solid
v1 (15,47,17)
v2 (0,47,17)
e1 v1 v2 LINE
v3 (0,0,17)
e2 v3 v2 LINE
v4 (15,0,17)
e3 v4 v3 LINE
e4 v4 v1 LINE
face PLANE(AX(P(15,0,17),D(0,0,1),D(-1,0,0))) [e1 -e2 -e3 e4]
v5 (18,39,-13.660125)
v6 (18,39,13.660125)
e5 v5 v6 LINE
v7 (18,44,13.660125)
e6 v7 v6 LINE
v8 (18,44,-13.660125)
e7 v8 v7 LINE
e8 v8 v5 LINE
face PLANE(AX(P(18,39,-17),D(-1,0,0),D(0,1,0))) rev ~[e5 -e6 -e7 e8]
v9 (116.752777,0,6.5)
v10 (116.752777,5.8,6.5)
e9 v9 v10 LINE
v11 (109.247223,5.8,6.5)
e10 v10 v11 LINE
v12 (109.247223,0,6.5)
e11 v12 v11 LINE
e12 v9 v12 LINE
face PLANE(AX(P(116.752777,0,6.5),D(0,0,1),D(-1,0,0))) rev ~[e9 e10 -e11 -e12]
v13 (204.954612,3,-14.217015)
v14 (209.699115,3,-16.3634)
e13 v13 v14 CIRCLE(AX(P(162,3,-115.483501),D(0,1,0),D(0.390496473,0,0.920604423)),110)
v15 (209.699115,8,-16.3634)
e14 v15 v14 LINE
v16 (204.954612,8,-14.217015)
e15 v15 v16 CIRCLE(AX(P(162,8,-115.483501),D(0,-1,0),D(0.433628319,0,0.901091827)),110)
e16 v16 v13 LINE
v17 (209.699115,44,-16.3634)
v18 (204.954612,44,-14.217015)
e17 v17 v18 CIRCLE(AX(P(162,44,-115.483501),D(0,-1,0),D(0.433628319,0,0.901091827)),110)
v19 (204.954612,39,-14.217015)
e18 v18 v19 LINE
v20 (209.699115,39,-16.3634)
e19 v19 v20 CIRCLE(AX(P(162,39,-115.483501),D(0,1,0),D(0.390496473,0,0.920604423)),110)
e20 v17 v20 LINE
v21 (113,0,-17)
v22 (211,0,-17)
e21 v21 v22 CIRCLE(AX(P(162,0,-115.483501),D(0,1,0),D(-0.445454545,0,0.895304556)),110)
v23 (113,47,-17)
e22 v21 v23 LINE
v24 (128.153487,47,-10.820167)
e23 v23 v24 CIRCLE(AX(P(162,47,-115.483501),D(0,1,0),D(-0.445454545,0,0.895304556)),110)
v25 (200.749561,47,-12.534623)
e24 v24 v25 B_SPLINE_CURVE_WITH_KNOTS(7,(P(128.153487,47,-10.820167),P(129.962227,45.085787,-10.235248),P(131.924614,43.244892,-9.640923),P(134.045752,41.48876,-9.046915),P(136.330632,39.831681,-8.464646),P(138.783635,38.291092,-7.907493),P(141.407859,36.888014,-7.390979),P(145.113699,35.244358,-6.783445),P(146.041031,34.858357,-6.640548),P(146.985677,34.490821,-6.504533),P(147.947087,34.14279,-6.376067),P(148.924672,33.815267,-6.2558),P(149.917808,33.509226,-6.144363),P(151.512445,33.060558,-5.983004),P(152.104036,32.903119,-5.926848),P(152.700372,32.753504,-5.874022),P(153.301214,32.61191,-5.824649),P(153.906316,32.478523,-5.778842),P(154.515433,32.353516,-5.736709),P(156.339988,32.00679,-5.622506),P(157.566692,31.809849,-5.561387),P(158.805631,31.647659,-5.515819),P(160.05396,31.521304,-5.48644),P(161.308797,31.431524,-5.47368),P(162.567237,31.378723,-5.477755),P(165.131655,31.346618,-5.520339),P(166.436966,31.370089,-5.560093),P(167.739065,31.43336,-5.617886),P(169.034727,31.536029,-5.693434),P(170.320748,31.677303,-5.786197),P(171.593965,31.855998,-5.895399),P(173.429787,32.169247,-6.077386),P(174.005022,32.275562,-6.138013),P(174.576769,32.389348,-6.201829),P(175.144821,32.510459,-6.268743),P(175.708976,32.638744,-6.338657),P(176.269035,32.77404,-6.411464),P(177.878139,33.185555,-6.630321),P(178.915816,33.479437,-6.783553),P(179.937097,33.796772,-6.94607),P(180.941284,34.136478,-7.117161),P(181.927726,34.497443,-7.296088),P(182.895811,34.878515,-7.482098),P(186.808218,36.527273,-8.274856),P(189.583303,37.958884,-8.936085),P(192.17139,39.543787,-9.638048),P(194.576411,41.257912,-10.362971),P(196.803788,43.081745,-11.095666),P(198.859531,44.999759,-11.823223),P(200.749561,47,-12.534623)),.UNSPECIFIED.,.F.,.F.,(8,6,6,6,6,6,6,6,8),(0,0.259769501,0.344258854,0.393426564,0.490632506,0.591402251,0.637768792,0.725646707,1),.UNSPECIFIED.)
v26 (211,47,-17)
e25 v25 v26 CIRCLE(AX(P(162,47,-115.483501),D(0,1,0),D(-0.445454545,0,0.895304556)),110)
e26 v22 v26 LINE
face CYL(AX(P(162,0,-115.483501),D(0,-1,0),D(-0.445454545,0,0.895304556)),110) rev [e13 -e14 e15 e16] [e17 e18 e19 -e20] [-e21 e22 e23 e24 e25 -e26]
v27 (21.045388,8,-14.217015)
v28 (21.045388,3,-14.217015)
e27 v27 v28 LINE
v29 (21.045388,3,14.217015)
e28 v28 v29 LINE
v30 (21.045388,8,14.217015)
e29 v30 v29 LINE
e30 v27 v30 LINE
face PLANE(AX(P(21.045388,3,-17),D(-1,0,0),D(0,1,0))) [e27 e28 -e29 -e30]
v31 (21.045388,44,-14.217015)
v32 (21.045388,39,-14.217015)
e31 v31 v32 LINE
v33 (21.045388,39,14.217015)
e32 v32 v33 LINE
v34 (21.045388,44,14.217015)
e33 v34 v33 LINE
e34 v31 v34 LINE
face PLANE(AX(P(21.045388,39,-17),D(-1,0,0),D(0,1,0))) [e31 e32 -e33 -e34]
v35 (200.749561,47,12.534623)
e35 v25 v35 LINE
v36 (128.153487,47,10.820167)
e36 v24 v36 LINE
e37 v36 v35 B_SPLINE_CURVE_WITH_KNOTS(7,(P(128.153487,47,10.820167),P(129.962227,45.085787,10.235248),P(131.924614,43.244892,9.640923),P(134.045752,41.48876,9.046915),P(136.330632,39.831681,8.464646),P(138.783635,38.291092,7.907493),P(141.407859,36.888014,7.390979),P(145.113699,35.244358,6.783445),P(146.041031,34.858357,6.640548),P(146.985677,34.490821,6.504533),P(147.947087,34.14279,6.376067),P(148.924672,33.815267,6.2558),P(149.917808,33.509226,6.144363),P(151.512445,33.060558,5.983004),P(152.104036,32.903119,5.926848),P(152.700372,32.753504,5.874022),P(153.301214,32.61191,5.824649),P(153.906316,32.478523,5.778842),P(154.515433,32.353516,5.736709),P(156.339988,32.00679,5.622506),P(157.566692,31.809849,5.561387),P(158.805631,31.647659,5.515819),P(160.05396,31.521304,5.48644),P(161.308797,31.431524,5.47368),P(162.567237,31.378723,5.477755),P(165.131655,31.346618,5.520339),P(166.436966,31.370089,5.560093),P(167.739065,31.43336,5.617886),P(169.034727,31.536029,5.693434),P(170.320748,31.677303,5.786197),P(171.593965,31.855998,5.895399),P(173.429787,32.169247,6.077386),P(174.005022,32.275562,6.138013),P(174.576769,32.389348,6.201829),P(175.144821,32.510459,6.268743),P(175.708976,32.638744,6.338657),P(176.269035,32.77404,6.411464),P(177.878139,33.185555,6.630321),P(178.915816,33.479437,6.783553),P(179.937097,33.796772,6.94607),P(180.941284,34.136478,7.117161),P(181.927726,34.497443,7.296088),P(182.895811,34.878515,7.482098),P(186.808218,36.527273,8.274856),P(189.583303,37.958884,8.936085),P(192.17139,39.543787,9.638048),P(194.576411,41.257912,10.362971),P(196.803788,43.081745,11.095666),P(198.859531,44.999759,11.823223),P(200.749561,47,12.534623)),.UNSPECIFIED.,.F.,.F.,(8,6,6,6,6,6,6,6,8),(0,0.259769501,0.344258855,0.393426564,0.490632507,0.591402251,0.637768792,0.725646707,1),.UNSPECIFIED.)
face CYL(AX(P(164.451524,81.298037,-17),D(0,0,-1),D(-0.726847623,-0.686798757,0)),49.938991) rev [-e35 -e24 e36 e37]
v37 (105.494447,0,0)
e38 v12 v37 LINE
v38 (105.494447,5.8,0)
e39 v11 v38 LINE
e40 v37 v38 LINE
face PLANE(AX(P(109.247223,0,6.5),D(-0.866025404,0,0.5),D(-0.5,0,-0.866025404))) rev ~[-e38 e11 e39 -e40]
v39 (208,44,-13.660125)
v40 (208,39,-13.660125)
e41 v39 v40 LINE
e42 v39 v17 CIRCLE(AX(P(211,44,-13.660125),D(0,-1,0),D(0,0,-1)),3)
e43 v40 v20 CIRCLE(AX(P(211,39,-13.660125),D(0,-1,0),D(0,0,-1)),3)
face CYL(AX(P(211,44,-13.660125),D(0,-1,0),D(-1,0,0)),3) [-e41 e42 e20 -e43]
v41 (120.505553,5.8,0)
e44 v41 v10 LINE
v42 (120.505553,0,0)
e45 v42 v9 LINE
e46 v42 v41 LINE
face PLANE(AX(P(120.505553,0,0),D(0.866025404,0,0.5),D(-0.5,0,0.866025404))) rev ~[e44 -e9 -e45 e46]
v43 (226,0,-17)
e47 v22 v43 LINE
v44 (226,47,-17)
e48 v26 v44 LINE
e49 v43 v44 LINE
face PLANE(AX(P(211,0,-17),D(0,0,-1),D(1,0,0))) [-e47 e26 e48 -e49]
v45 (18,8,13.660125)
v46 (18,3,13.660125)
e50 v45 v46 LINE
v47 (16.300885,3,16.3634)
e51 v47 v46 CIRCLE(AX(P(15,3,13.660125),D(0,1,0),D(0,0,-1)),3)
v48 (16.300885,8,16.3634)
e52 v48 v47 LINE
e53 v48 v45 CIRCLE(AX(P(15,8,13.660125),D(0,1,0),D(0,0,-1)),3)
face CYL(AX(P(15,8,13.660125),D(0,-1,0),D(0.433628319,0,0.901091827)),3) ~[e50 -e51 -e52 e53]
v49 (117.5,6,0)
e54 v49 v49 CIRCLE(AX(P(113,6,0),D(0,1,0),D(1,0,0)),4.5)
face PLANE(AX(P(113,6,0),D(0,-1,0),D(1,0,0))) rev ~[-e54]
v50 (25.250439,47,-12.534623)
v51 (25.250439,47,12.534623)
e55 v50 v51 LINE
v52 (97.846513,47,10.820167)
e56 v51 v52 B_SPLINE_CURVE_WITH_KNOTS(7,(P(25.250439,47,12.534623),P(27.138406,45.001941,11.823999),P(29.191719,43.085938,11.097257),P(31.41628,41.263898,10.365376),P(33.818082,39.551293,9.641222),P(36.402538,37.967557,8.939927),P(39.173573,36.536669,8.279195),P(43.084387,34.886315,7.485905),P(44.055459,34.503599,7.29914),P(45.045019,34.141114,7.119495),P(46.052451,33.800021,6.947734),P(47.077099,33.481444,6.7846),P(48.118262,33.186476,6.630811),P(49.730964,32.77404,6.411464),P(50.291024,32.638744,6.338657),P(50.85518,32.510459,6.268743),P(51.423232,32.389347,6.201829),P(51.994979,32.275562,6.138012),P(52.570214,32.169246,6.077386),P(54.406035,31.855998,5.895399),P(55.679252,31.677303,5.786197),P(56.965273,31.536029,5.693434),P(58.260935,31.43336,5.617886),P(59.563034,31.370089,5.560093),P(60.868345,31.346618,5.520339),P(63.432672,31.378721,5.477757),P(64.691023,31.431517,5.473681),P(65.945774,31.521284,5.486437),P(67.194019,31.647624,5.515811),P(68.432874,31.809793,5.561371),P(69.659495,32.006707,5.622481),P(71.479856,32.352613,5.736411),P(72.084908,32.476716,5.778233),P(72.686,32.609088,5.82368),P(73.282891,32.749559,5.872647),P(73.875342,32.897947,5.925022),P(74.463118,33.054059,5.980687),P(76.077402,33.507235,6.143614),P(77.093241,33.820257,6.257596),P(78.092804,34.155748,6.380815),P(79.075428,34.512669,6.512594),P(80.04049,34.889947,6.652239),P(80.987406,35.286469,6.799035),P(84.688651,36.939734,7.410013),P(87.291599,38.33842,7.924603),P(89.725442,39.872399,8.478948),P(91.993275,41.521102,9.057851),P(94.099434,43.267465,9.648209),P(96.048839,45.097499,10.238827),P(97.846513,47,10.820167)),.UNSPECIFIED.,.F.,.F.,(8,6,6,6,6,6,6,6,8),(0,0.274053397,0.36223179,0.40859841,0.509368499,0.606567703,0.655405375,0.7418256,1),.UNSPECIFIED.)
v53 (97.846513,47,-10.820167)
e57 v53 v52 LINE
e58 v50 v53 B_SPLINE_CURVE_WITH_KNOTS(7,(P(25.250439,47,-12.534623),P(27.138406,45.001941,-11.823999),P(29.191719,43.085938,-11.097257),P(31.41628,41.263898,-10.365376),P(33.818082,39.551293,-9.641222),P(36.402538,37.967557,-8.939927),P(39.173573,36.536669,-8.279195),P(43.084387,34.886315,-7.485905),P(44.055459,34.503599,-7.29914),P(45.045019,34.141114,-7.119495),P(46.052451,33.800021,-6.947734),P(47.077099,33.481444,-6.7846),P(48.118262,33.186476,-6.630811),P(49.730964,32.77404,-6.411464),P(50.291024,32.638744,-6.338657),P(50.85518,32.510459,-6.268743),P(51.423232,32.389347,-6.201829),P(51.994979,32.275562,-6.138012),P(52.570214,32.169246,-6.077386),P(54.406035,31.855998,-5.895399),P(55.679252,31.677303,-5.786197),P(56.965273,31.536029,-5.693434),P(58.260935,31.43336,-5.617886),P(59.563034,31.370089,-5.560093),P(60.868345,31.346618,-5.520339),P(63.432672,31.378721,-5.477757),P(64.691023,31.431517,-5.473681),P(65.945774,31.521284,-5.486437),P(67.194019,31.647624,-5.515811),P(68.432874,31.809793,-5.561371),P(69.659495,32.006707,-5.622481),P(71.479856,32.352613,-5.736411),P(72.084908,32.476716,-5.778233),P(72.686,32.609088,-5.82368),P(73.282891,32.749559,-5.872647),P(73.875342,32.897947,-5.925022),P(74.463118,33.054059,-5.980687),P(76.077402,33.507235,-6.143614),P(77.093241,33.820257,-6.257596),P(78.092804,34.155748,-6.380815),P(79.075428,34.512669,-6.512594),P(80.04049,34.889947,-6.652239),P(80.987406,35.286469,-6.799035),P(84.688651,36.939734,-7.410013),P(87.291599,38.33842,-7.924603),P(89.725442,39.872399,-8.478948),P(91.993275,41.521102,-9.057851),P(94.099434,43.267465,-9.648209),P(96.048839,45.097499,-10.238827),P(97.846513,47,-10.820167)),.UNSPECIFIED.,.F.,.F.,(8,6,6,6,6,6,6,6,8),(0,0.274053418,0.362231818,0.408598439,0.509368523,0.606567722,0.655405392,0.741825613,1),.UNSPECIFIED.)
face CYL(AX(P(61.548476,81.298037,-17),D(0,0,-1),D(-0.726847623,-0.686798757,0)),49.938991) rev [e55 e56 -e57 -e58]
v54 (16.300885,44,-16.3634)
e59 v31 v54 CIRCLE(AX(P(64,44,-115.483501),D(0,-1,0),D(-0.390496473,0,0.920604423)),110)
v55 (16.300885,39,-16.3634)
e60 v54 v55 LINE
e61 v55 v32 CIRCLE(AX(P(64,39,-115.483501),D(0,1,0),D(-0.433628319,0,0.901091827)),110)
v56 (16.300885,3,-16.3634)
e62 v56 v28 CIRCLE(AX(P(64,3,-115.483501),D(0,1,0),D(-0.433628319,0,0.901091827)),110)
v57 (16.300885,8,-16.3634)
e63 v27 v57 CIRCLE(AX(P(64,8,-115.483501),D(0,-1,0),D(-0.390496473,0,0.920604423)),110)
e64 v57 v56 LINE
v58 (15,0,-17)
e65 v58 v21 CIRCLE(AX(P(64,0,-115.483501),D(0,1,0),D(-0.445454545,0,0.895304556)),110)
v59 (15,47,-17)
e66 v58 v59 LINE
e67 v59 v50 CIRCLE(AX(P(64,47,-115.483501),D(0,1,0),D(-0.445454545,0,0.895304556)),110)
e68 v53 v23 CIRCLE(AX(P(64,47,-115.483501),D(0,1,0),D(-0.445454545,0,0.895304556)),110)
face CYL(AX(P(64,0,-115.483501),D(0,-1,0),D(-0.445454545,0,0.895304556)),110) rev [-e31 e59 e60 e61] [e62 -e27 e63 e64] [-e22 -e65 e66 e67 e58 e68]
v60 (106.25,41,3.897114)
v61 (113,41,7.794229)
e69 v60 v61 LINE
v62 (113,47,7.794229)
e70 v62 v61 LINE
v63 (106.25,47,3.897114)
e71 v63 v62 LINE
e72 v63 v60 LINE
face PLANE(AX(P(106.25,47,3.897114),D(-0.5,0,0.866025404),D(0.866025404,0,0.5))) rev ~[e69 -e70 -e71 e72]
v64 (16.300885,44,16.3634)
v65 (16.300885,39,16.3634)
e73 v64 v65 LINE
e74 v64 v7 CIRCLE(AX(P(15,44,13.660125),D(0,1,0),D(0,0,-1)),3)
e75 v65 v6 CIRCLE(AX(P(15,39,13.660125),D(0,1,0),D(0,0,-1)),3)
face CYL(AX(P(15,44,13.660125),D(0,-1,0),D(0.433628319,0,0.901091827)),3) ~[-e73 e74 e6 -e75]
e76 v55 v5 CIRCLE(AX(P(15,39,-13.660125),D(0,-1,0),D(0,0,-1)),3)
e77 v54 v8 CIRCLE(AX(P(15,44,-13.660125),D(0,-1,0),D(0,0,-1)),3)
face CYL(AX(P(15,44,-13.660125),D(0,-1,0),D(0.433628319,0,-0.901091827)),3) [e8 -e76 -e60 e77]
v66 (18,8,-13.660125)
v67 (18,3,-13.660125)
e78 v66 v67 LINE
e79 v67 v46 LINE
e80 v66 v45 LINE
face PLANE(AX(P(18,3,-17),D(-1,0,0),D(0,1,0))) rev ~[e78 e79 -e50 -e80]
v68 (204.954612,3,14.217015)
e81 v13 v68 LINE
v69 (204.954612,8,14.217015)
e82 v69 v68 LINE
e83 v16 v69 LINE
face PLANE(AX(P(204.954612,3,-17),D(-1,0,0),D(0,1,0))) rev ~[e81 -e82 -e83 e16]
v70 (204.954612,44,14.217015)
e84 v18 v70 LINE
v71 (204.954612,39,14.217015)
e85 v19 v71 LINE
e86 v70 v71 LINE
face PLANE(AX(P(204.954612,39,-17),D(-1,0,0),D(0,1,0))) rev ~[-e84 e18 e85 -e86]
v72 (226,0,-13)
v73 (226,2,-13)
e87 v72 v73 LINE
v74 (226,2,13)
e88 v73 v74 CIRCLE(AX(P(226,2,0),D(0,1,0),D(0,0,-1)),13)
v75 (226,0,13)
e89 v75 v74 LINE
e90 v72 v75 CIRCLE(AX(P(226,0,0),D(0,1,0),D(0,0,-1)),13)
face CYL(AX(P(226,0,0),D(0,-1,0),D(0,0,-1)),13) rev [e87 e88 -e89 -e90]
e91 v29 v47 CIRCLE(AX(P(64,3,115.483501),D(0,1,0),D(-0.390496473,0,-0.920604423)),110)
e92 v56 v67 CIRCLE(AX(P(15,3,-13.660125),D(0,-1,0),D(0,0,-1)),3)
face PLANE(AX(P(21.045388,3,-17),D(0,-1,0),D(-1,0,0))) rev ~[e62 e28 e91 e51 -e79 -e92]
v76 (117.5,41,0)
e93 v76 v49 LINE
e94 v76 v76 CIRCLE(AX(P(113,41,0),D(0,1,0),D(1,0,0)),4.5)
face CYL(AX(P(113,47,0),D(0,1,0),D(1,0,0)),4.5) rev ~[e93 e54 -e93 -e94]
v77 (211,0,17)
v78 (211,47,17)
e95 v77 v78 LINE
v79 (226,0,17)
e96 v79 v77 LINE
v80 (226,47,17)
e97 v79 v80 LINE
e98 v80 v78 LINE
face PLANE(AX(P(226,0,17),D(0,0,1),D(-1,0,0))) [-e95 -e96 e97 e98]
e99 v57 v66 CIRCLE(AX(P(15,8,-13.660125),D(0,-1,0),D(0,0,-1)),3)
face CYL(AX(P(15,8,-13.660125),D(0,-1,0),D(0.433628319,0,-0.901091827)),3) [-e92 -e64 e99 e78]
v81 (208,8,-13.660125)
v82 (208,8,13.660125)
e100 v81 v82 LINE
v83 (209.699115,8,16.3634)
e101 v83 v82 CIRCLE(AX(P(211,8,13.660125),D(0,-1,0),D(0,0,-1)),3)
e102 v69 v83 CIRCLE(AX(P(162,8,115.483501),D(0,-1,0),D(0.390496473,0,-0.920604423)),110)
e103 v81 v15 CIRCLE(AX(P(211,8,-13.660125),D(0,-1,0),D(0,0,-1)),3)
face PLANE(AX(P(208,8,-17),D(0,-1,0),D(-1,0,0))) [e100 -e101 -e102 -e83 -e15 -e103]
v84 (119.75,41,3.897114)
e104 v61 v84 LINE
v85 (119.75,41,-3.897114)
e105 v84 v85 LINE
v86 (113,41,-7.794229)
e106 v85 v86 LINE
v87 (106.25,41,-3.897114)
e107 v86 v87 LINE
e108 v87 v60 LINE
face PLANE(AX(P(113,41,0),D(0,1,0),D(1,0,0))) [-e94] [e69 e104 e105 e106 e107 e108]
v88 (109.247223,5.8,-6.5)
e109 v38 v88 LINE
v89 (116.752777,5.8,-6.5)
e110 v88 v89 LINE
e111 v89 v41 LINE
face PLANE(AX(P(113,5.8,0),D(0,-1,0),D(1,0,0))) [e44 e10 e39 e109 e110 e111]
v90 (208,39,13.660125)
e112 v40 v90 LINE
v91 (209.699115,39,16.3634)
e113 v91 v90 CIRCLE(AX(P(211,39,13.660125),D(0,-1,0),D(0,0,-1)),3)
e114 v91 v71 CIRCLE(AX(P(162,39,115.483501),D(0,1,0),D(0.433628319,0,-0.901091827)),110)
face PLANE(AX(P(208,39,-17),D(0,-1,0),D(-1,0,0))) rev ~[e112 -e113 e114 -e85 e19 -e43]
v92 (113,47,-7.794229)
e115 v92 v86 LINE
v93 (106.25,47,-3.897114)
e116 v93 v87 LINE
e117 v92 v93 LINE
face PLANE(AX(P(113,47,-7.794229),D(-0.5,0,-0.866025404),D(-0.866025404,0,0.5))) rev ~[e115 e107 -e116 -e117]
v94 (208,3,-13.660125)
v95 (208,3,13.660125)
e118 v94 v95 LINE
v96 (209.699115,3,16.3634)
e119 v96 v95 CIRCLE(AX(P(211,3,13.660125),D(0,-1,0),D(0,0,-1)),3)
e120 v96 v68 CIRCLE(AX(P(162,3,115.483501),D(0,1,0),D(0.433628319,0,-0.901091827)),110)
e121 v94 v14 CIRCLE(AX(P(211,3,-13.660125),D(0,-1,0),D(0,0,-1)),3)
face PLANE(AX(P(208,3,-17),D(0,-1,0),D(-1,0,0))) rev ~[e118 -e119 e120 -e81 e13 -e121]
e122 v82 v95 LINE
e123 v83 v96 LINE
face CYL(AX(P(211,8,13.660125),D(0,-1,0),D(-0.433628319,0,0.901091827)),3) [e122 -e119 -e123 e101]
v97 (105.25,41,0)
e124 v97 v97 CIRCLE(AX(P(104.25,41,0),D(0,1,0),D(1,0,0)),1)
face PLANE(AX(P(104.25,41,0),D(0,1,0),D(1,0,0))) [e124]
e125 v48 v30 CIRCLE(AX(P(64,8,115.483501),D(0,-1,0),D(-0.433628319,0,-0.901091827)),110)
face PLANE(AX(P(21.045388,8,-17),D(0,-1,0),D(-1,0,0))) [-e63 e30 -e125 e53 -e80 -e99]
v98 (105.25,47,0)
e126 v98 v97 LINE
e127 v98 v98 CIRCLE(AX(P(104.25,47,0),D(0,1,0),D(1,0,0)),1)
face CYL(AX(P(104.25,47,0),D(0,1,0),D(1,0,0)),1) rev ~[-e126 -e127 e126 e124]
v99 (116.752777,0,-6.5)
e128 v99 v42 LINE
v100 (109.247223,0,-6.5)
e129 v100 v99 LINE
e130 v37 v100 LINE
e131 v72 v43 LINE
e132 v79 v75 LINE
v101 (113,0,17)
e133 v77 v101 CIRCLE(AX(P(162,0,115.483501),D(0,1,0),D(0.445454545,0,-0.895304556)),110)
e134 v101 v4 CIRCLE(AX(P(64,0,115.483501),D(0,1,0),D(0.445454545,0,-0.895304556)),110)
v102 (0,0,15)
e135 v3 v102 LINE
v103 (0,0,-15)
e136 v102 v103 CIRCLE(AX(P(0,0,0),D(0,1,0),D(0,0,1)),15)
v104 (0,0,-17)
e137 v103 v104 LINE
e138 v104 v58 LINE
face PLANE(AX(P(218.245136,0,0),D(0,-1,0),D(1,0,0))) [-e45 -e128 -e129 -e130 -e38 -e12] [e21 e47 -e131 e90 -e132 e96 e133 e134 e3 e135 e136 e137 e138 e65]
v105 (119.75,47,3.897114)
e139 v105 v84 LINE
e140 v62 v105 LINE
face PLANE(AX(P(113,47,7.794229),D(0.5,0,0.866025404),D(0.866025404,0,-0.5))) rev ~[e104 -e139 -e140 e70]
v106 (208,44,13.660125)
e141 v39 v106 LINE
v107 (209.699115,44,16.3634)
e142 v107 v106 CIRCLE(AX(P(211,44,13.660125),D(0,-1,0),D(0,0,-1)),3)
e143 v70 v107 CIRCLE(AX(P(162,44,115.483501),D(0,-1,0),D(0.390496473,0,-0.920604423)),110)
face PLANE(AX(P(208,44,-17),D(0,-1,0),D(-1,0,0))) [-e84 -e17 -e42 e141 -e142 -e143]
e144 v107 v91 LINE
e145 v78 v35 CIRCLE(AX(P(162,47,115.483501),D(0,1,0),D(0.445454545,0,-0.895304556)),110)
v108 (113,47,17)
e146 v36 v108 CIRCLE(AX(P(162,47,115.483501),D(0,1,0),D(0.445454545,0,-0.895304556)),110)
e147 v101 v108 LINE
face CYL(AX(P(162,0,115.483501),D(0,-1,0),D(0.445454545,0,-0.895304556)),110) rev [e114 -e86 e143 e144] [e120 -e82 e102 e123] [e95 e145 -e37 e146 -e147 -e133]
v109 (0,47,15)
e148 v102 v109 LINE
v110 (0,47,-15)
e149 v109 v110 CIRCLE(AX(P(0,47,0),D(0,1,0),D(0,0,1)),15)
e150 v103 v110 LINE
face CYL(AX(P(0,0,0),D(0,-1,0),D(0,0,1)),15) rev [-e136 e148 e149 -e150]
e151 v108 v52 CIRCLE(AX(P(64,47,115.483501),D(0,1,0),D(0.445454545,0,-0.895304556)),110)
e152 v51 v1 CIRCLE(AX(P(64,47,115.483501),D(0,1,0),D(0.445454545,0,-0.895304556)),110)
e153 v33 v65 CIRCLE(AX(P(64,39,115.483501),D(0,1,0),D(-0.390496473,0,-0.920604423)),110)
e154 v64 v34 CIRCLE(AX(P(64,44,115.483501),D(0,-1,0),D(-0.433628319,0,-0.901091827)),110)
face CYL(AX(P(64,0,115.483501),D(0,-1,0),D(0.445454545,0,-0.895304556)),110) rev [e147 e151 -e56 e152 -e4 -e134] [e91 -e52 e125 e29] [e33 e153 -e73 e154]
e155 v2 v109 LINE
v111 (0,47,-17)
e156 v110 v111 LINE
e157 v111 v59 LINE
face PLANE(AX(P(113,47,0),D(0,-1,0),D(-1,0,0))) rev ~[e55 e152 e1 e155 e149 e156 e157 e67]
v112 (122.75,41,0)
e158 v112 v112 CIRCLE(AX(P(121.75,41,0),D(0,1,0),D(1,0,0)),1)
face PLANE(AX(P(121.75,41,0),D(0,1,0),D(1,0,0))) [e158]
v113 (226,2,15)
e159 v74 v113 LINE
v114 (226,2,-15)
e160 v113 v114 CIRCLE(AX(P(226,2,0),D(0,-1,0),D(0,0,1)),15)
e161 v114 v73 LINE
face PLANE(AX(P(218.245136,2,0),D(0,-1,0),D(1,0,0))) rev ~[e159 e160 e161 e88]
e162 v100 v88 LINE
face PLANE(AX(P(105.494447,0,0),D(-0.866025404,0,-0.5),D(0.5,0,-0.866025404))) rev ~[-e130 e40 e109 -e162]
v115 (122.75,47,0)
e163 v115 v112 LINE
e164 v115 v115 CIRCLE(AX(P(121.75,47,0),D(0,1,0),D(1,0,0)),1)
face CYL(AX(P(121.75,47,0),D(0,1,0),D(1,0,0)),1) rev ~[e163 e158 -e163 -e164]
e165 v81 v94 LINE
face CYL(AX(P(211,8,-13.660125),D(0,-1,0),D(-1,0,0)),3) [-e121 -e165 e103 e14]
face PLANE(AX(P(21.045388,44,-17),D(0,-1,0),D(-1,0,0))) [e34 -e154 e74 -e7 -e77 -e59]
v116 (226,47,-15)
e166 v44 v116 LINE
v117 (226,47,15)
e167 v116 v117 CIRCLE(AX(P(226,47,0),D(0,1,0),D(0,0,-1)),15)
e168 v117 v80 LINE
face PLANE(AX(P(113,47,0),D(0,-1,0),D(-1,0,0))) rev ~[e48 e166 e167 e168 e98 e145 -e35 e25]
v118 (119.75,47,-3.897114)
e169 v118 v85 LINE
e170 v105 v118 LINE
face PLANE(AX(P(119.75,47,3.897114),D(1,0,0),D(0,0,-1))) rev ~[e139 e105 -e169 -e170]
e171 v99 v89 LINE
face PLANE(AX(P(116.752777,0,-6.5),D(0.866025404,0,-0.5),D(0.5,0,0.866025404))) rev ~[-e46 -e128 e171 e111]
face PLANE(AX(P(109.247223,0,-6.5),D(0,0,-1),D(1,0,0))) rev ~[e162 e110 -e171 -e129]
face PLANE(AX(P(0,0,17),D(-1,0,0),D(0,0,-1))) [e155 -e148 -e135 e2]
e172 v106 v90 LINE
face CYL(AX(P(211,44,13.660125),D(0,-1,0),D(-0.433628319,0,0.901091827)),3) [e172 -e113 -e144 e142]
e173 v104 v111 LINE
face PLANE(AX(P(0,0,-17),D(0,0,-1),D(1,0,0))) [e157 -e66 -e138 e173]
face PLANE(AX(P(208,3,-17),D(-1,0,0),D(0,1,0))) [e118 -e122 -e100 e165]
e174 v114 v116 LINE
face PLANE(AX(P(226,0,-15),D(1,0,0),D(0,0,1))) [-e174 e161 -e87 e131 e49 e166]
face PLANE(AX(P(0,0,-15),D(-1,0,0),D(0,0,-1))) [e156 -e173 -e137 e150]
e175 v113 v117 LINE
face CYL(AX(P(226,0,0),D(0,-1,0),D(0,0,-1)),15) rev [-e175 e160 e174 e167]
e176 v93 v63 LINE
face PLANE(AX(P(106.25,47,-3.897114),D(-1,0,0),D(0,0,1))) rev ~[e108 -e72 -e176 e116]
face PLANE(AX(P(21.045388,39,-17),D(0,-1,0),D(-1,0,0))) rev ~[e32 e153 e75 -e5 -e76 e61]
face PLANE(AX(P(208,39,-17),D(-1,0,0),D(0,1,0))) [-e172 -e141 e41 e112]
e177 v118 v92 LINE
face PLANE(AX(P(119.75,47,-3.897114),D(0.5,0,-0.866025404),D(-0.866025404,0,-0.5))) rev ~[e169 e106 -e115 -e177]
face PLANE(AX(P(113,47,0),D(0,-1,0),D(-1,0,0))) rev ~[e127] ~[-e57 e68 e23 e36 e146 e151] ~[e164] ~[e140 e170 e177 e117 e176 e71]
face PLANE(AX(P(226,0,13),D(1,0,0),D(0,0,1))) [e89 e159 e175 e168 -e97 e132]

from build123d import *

# Parameters (mm, degrees)
BOSS_EXTRUDE2_DEPTH = 47
SKETCH2_R           = 4.5
CUT_EXTRUDE1_DEPTH  = 48
CUT_EXTRUDE2_DEPTH  = 6
SKETCH4_R           = 1
CUT_EXTRUDE3_DEPTH  = 6
CUT_EXTRUDE4_DEPTH  = 35
CUT_EXTRUDE5_DEPTH  = 6
BOSS_EXTRUDE3_DEPTH = 0.2
BOSS_EXTRUDE4_DEPTH = 2
SKETCH11_W          = 3.045387933
SKETCH11_H          = 5
CUT_EXTRUDE6_DEPTH  = 35.0000001
FILLET1_R           = 3
FILLET2_R           = 3


with BuildPart() as part:
    # Sketch1 → Boss-Extrude2 (new body)
    with BuildSketch(Plane(origin=(0, 0, 0), x_dir=(1, 0, 0), z_dir=(0, 1, 0))):
        with BuildLine():
            Line((0, 15), (0, 17))
            Line((0, 17), (15, 17))
            ThreePointArc((15, 17), (64, 5.483501156), (113, 17))
            ThreePointArc((113, 17), (162, 5.483501156), (211, 17))
            Line((211, 17), (226, 17))
            Line((226, 17), (226, 15))
            ThreePointArc((226, 15), (211, 0), (226, -15))
            Line((226, -15), (226, -17))
            Line((226, -17), (211, -17))
            ThreePointArc((211, -17), (162, -5.483501156), (113, -17))
            ThreePointArc((113, -17), (64, -5.483501156), (15, -17))
            Line((15, -17), (0, -17))
            Line((0, -17), (0, -15))
            ThreePointArc((0, -15), (15, 0), (0, 15))
        make_face()
    extrude(amount=BOSS_EXTRUDE2_DEPTH)

    # Sketch2 → Cut-Extrude1 (cut, through all)
    with BuildSketch(Plane(origin=(0, 47, 0), x_dir=(1, 0, 0), z_dir=(0, 1, 0))):
        with Locations((113, 0)):
            Circle(SKETCH2_R)
    extrude(amount=-CUT_EXTRUDE1_DEPTH, mode=Mode.SUBTRACT)

    # Sketch3 → Cut-Extrude2 (cut)
    with BuildSketch(Plane(origin=(0, 47, 0), x_dir=(1, 0, 0), z_dir=(0, 1, 0))):
        Polygon((113, -7.794228634), (119.75, -3.897114317), (119.75, 3.897114317), (113, 7.794228634), (106.25, 3.897114317), (106.25, -3.897114317), align=None)
    extrude(amount=-CUT_EXTRUDE2_DEPTH, mode=Mode.SUBTRACT)

    # Sketch4 → Cut-Extrude3 (cut)
    with BuildSketch(Plane(origin=(0, 47, 0), x_dir=(1, 0, 0), z_dir=(0, 1, 0))):
        with Locations((104.25, 0)):
            Circle(SKETCH4_R)
        with Locations((121.75, 0)):
            Circle(SKETCH4_R)
    extrude(amount=-CUT_EXTRUDE3_DEPTH, mode=Mode.SUBTRACT)

    # Sketch5 → Cut-Extrude4 (cut, through all)
    with BuildSketch(Plane(origin=(0, 0, -17), x_dir=(-1, 0, 0), z_dir=(0, 0, -1))):
        with BuildLine():
            Line((-200.749560542, 47), (-128.153486501, 47))
            ThreePointArc((-128.153486501, 47), (-164.451523522, 31.359045891), (-200.749560542, 47))
        make_face()
        with BuildLine():
            ThreePointArc((-25.250439458, 47), (-61.548476478, 31.359045891), (-97.846513499, 47))
            Line((-97.846513499, 47), (-25.250439458, 47))
        make_face()
    extrude(amount=-CUT_EXTRUDE4_DEPTH, mode=Mode.SUBTRACT)

    # Sketch6 → Cut-Extrude5 (cut)
    with BuildSketch(Plane.XZ):
        Polygon((120.505553499, 0), (116.75277675, 6.5), (109.24722325, 6.5), (105.494446501, 0), (109.24722325, -6.5), (116.75277675, -6.5), align=None)
    extrude(amount=-CUT_EXTRUDE5_DEPTH, mode=Mode.SUBTRACT)

    # Sketch7 → Boss-Extrude3 (add)
    with BuildSketch(Plane.XZ.offset(-6)):
        Polygon((120.505553499, 0), (116.75277675, 6.5), (109.24722325, 6.5), (105.494446501, 0), (109.24722325, -6.5), (116.75277675, -6.5), align=None)
    extrude(amount=BOSS_EXTRUDE3_DEPTH)

    # Sketch10 → Boss-Extrude4 (add)
    with BuildSketch(Plane.XZ):
        with BuildLine():
            ThreePointArc((226, -13), (213, 0), (226, 13))
            Line((226, 13), (226, 15))
            ThreePointArc((226, 15), (211, 0), (226, -15))
            Line((226, -15), (226, -13))
        make_face()
    extrude(amount=-BOSS_EXTRUDE4_DEPTH)

    # Sketch11 → Cut-Extrude6 (cut, through all)
    with BuildSketch(Plane(origin=(0, 0, -17), x_dir=(-1, 0, 0), z_dir=(0, 0, -1))):
        with Locations((-19.522693967, 41.5)):
            Rectangle(SKETCH11_W, SKETCH11_H)
        with Locations((-19.522693967, 5.5)):
            Rectangle(SKETCH11_W, SKETCH11_H)
        with Locations((-206.477306033, 5.5)):
            Rectangle(SKETCH11_W, SKETCH11_H)
        with Locations((-206.477306033, 41.5)):
            Rectangle(SKETCH11_W, SKETCH11_H)
    extrude(amount=-CUT_EXTRUDE6_DEPTH, mode=Mode.SUBTRACT)

    # Fillet1
    fillet1_edges = [part.edges().sort_by_distance(p)[0] for p in [
        (18, 41.5, -15.563533182),
        (18, 5.5, -15.563533182),
    ]]
    fillet(fillet1_edges, radius=FILLET1_R)

    # Fillet2
    fillet2_edges = [part.edges().sort_by_distance(p)[0] for p in [
        (18, 41.5, 15.563533182),
        (18, 5.5, 15.563533182),
        (208, 5.5, -15.563533182),
        (208, 5.5, 15.563533182),
        (208, 41.5, -15.563533182),
        (208, 41.5, 15.563533182),
    ]]
    fillet(fillet2_edges, radius=FILLET2_R)


solid = part.part
